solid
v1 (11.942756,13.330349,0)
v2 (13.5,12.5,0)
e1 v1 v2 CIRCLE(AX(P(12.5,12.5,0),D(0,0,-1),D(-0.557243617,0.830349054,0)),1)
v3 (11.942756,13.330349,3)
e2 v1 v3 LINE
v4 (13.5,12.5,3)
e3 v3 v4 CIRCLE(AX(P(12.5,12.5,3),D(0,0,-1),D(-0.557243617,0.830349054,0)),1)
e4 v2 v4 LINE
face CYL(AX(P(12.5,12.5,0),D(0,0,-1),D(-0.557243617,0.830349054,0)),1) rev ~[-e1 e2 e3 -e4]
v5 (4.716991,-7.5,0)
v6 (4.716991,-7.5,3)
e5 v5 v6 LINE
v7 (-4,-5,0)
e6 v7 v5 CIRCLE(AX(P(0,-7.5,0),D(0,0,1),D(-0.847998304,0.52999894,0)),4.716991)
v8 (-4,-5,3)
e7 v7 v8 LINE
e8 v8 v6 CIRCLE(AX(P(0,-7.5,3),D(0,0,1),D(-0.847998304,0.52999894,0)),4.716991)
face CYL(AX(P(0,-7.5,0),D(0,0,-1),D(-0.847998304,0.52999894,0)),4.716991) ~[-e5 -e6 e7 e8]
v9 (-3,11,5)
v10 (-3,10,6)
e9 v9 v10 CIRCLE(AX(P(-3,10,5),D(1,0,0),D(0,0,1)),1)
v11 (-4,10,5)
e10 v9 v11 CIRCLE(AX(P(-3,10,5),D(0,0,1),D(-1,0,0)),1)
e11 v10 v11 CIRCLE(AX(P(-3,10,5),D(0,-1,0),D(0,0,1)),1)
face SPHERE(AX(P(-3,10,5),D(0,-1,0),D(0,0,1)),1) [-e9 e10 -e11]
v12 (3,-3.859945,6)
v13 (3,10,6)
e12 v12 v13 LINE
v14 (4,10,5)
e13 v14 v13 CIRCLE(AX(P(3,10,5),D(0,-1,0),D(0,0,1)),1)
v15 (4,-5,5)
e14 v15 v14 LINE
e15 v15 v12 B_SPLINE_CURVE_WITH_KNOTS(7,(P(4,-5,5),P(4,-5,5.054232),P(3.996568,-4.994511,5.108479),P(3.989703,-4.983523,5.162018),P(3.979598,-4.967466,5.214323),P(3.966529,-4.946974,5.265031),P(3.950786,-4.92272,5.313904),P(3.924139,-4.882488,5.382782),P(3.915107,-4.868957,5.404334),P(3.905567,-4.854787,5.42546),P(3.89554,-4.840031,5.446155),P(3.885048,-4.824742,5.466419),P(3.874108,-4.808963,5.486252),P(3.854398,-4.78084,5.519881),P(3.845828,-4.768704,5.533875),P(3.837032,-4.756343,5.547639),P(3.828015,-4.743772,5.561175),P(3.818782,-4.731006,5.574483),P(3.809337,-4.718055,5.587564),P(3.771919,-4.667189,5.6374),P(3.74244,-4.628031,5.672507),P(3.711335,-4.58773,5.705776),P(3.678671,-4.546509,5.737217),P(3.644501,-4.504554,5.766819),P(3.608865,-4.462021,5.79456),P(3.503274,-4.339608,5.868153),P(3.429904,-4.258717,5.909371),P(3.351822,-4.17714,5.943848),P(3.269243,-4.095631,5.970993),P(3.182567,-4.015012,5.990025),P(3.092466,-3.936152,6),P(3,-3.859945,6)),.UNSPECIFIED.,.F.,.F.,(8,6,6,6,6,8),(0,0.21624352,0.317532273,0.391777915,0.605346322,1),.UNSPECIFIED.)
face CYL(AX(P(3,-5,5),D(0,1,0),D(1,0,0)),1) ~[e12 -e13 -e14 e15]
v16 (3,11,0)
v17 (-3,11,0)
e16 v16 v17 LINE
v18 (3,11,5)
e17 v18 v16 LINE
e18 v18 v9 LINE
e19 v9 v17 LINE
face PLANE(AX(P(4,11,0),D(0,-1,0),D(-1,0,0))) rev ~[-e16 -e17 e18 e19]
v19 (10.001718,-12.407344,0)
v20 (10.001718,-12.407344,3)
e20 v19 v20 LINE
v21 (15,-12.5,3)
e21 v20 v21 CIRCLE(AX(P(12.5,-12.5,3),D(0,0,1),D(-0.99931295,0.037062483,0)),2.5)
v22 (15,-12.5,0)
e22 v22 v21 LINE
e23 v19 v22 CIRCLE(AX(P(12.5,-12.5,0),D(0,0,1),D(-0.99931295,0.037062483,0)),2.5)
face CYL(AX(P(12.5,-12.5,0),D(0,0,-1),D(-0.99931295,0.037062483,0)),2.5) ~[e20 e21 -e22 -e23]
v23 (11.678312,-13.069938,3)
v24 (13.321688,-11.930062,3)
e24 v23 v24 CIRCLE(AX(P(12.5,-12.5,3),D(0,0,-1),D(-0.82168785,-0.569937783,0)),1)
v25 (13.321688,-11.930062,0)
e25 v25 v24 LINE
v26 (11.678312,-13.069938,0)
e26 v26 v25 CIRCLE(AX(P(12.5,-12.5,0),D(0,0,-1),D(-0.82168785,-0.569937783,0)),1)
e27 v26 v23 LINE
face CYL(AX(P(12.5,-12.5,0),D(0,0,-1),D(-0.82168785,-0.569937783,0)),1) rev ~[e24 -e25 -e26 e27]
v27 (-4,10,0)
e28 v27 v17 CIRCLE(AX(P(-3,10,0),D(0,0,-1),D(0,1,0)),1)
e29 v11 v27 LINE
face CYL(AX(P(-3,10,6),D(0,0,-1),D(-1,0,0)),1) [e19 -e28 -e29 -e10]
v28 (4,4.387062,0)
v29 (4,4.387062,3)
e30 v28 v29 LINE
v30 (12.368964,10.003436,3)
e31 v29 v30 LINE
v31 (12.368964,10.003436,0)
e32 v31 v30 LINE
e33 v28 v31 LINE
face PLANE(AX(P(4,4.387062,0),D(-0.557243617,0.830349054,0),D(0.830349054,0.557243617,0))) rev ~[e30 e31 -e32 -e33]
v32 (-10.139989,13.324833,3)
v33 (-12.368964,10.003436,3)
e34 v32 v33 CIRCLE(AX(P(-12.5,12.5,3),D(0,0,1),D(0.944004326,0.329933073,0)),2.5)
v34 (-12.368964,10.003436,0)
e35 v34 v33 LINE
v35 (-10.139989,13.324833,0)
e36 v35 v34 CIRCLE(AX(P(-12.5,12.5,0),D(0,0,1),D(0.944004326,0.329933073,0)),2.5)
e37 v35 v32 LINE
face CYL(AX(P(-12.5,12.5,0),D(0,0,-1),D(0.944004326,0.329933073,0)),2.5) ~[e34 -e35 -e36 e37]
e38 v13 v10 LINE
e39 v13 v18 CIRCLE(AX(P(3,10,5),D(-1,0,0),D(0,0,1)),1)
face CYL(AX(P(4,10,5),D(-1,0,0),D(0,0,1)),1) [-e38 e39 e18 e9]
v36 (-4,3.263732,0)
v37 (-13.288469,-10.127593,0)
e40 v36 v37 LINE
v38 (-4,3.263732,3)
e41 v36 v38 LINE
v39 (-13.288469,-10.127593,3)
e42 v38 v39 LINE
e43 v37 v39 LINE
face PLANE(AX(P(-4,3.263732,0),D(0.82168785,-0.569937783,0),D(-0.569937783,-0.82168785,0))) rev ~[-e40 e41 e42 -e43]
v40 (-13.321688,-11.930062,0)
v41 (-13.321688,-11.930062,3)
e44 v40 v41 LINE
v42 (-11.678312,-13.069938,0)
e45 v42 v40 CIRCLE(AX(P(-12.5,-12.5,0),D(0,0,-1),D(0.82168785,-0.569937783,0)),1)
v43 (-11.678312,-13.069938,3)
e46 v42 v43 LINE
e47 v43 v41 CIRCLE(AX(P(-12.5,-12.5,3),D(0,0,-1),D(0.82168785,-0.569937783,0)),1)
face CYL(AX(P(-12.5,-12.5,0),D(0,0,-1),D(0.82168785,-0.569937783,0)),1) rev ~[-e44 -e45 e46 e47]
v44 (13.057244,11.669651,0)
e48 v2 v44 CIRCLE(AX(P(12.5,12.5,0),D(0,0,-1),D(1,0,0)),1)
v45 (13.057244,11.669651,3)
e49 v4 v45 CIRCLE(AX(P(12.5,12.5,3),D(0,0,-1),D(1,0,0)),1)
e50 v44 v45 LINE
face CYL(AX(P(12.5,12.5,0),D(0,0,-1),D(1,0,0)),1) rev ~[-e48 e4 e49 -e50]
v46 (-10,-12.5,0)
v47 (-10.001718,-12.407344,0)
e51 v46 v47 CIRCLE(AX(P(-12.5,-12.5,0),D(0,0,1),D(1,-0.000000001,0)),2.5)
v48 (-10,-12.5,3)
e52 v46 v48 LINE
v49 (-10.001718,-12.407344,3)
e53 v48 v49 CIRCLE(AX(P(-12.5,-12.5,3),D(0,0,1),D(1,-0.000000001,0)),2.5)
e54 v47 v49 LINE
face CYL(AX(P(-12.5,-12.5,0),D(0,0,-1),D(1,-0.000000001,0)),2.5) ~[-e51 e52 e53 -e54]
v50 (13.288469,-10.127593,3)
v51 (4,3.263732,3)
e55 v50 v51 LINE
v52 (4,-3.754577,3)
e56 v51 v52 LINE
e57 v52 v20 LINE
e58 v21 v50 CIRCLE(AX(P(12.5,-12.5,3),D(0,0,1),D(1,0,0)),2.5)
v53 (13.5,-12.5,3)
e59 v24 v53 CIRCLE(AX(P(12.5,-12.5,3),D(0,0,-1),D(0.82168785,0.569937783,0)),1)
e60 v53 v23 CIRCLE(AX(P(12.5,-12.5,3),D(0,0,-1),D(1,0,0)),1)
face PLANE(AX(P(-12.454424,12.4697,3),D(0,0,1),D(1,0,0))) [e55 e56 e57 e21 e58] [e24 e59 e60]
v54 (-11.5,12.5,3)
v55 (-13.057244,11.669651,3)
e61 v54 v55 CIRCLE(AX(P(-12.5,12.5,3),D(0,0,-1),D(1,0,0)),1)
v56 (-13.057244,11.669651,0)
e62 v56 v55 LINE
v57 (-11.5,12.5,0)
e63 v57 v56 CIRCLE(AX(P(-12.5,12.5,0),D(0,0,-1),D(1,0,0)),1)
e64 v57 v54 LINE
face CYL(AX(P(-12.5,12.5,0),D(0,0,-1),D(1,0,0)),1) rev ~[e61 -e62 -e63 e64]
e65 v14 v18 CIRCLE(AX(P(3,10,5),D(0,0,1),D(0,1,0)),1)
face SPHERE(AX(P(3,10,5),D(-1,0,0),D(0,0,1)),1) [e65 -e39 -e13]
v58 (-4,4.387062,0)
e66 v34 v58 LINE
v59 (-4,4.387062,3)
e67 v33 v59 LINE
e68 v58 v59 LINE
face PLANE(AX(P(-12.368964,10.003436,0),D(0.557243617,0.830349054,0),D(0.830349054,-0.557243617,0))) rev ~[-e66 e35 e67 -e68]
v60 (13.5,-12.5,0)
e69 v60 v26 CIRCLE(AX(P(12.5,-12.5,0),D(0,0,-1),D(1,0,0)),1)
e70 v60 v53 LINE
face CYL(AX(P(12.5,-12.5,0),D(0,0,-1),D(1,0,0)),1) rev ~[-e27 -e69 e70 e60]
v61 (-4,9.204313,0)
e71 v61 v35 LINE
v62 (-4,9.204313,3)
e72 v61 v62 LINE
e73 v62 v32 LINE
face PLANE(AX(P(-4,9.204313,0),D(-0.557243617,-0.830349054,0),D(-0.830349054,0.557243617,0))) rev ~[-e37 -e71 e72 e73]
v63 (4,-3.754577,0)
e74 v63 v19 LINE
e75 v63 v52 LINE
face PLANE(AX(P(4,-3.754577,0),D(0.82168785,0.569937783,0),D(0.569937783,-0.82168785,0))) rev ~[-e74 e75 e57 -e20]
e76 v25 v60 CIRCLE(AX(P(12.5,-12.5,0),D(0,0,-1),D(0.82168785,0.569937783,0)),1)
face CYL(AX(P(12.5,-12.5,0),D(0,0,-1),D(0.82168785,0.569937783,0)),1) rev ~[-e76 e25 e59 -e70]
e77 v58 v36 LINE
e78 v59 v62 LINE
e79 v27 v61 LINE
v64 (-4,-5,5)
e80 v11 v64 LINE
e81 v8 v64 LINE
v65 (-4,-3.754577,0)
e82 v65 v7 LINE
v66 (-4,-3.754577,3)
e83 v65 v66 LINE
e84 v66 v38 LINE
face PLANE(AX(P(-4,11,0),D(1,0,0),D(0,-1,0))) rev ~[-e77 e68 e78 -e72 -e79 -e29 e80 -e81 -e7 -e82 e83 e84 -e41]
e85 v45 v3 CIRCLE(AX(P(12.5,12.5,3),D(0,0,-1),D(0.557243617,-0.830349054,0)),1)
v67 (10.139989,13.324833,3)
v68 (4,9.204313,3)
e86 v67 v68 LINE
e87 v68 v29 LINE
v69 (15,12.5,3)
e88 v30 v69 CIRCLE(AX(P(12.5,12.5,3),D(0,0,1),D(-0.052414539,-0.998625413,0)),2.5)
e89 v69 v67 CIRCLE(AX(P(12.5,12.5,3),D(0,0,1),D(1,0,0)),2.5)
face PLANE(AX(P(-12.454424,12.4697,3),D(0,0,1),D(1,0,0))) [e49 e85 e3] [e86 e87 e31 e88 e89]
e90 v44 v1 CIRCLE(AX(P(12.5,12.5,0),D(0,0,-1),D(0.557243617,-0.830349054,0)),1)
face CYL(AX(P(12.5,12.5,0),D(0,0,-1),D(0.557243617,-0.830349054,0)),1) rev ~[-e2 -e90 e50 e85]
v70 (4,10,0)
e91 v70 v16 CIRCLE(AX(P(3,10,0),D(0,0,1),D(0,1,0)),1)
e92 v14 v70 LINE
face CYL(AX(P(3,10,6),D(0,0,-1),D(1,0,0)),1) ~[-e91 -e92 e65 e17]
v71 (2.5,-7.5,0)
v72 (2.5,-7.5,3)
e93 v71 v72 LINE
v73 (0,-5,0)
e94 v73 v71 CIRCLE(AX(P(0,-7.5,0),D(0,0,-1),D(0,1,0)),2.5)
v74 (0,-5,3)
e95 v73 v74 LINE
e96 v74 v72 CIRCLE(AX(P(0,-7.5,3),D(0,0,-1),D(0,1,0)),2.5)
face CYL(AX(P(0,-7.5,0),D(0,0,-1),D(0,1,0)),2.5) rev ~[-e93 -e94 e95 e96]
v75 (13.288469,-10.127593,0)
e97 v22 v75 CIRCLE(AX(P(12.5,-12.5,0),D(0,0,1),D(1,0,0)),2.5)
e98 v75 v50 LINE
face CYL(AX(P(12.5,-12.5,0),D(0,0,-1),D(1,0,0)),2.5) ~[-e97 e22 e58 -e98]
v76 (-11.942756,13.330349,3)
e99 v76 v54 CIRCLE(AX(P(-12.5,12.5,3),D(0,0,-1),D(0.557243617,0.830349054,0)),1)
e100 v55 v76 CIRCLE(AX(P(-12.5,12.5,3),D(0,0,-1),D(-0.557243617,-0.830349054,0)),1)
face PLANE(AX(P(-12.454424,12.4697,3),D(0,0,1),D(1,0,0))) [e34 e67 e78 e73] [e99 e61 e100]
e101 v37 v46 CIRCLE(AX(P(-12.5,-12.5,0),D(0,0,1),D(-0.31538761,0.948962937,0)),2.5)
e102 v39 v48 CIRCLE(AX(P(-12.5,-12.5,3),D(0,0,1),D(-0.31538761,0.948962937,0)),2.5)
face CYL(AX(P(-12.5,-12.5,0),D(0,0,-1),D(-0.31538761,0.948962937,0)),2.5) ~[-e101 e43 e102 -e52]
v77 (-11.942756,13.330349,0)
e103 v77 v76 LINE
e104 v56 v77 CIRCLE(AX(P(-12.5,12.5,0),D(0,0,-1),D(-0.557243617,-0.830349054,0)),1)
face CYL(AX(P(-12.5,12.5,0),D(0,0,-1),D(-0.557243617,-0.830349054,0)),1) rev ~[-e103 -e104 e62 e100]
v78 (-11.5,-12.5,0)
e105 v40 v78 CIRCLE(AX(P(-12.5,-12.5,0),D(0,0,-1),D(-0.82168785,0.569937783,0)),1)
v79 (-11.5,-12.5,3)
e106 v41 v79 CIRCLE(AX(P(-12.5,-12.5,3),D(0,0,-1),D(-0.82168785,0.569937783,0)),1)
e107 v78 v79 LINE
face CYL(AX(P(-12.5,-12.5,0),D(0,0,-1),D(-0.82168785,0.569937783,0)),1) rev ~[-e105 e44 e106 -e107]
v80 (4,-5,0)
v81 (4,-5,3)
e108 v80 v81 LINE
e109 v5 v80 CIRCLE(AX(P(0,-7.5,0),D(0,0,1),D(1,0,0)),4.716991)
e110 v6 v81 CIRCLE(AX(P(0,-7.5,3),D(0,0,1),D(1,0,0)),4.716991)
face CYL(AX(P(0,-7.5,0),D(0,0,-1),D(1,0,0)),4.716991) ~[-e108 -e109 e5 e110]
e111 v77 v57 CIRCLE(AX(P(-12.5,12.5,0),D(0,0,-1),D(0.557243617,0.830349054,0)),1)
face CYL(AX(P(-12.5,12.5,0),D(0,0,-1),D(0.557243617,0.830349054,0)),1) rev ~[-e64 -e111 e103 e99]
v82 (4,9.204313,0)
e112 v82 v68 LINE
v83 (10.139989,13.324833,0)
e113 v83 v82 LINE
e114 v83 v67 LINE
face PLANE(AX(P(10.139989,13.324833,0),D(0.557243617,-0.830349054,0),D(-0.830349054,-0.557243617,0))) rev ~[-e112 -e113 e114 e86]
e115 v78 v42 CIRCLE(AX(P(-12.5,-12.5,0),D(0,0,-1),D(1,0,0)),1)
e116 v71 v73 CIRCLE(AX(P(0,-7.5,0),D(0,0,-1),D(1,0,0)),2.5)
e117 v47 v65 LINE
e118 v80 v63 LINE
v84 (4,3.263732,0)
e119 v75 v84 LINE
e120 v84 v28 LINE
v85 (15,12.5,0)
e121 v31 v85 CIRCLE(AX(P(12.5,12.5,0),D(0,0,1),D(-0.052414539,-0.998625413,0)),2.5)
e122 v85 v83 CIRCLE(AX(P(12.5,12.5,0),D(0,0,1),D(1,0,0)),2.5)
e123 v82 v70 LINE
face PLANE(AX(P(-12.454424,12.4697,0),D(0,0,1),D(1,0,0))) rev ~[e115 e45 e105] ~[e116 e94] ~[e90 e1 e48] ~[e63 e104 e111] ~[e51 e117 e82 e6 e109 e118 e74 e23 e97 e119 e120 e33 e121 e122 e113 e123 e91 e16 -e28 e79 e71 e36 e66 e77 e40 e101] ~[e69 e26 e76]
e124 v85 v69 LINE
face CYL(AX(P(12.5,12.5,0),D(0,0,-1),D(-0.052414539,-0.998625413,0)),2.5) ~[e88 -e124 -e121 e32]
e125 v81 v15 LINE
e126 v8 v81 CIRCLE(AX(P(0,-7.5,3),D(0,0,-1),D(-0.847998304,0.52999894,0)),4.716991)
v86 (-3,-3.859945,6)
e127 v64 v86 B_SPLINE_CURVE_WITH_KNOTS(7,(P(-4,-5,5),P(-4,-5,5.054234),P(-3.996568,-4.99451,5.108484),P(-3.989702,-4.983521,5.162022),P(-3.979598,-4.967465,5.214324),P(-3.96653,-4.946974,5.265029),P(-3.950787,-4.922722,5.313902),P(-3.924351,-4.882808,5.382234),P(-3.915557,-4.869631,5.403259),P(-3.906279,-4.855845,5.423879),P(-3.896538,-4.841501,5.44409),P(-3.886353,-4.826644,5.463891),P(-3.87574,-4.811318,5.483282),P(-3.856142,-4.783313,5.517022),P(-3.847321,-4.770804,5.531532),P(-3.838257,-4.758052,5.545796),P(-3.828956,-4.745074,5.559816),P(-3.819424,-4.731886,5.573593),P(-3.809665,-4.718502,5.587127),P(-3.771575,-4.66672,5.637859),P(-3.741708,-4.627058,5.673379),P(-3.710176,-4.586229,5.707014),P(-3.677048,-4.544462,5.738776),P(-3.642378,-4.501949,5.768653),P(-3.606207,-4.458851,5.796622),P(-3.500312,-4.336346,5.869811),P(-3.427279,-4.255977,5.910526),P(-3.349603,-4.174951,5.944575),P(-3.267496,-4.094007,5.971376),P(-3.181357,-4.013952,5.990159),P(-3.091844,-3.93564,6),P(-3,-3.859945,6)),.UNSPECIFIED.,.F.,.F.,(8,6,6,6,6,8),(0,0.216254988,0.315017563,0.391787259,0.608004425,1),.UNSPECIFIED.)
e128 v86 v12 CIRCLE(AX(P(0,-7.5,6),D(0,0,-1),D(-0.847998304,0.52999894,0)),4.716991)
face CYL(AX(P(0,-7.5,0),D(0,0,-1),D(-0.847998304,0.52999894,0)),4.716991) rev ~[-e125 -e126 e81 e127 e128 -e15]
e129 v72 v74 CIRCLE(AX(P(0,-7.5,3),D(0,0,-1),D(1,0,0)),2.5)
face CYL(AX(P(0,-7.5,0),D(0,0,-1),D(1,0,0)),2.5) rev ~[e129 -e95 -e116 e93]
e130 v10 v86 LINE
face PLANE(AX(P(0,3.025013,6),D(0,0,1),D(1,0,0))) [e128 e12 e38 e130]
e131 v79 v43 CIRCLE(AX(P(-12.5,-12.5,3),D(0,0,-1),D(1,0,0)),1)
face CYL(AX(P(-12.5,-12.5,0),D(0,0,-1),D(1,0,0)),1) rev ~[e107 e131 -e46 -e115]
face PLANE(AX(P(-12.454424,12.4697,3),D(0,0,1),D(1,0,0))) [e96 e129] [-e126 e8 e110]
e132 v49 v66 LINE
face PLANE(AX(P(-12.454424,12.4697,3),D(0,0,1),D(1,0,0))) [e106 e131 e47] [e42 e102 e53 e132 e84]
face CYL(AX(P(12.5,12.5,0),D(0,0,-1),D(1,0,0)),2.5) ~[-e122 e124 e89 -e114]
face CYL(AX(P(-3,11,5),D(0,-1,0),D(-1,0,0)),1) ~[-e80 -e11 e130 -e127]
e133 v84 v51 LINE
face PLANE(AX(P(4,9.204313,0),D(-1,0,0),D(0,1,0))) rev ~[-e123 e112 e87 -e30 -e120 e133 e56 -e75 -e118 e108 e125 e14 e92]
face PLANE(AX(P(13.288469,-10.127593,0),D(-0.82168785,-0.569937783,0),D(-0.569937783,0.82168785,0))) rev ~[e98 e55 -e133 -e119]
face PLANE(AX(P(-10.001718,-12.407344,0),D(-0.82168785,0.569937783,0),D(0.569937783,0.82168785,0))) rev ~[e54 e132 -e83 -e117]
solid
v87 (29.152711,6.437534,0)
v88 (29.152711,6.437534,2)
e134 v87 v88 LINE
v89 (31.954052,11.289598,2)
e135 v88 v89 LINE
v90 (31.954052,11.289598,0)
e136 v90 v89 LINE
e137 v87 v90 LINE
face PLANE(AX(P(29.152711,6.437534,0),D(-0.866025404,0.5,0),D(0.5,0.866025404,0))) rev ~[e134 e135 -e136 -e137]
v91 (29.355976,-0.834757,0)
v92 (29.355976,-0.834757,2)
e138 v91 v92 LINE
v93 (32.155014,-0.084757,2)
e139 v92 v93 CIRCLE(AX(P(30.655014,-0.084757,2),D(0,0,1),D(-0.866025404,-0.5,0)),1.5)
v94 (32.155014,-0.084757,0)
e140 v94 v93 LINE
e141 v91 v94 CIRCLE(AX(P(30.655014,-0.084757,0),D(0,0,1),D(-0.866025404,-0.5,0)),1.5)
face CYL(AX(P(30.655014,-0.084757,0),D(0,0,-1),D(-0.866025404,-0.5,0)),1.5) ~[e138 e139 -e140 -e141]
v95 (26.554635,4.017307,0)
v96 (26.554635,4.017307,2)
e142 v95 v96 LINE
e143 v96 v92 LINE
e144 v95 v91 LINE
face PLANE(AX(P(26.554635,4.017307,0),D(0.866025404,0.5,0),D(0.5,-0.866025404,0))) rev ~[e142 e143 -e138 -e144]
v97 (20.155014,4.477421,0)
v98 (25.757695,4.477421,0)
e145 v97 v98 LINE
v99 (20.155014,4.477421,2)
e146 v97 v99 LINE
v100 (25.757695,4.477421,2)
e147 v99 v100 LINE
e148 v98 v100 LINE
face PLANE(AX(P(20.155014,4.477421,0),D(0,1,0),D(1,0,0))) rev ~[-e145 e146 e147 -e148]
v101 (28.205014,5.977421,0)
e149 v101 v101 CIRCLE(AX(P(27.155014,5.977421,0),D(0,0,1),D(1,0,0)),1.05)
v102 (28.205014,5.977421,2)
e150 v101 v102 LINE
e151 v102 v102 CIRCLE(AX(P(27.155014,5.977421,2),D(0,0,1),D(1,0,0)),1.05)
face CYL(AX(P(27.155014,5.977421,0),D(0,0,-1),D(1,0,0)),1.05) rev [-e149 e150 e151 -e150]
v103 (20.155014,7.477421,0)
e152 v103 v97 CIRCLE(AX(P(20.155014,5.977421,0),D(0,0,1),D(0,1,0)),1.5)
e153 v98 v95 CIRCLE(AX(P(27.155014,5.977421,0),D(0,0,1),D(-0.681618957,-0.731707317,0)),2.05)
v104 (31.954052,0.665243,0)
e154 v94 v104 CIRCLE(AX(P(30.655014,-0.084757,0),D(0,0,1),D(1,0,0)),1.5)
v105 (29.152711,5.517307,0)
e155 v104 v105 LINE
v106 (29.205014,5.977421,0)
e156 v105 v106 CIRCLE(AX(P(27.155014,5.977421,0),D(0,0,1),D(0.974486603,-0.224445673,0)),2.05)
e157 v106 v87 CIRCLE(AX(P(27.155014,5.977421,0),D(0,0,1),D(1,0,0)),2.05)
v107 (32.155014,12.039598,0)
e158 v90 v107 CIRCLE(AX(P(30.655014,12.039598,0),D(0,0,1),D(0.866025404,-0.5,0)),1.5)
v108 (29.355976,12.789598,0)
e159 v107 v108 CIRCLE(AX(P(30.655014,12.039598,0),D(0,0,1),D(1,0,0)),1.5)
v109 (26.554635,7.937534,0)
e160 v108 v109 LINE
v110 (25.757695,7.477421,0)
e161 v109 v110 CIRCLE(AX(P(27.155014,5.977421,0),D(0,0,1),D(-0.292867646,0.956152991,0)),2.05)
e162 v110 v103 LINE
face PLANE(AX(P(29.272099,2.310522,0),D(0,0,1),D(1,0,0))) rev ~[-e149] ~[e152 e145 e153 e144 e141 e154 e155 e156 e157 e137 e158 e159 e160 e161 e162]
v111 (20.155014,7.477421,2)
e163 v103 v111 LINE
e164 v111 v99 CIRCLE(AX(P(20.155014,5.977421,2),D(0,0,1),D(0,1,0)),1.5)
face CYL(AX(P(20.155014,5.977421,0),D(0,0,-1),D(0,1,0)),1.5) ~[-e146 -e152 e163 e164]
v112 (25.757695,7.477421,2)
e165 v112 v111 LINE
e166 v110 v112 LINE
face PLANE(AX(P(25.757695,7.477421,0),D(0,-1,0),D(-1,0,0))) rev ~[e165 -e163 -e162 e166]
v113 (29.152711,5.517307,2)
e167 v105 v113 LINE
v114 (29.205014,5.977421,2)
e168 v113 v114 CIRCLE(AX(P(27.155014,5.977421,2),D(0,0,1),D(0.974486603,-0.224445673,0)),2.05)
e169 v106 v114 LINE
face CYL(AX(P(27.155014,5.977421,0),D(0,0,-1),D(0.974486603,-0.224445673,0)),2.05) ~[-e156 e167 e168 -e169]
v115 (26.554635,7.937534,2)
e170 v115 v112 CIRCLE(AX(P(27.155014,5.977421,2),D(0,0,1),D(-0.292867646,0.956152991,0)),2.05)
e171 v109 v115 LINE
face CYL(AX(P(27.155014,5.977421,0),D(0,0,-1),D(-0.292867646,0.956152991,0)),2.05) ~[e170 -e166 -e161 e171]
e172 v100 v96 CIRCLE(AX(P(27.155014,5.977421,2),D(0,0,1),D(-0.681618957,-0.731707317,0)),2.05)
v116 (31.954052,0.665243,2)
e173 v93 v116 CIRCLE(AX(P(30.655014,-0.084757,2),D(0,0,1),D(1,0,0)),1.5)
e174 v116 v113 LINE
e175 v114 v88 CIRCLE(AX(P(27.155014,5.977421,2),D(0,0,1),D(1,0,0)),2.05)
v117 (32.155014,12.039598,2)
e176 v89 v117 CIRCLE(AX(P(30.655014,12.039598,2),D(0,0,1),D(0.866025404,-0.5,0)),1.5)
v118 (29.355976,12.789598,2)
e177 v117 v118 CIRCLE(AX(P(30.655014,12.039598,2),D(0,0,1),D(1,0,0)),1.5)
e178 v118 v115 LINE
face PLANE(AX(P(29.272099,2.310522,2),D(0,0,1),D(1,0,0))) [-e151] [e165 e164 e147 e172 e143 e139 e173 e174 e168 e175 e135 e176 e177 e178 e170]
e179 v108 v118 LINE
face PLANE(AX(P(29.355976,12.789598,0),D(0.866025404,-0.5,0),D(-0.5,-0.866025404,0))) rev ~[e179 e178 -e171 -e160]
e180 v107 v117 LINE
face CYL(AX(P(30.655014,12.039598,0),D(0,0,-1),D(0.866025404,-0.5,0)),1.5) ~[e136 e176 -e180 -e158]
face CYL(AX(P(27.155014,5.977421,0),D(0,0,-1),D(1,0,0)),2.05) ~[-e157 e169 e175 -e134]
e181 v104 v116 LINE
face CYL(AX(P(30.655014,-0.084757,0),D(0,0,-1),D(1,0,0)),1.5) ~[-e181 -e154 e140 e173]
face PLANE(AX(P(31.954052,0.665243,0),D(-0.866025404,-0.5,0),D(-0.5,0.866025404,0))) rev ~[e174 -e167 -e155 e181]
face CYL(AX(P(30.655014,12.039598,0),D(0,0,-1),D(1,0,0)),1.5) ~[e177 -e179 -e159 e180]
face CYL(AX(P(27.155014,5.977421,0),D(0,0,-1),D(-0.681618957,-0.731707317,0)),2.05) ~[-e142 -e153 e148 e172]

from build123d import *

# Parameters (mm, degrees)
F1_DEPTH = 3
F2_DEPTH = 6
F0_R     = 1.05
F3_DEPTH = 2
F4_R     = 1


with BuildPart() as f1:
    # F0 (on Top) → F1 (new body)
    with BuildSketch(Plane.XY):
        with BuildLine():
            ThreePointArc((-13.0572436168, 11.669650946), (-13.330349054, 13.0572436168), (-11.9427563832, 13.330349054))
            Line((-11.9427563832, 13.330349054), (-10.0401876865, 12.0535435267))
            ThreePointArc((-10.0401876865, 12.0535435267), (-10.0100671913, 12.2758692164), (-10, 12.5))
            ThreePointArc((-10, 12.5), (-10.0352457489, 12.9183138554), (-10.1399891853, 13.3248326828))
            ThreePointArc((-10.1399891853, 13.3248326828), (-14.575872635, 13.8931090421), (-12.3689636526, 10.0034364667))
            ThreePointArc((-12.3689636526, 10.0034364667), (-11.7365731215, 10.1194161638), (-11.1546749202, 10.3928454187))
            Line((-11.1546749202, 10.3928454187), (-13.0572436168, 11.669650946))
        make_face()
        with BuildLine():
            ThreePointArc((-10, 12.5), (-10.0100671913, 12.2758692164), (-10.0401876865, 12.0535435267))
            Line((-10.0401876865, 12.0535435267), (-4, 8))
            Line((-4, 8), (-4, 9.204312807))
            Line((-4, 9.204312807), (-10.1399891853, 13.3248326828))
            ThreePointArc((-10.1399891853, 13.3248326828), (-10.0352457489, 12.9183138554), (-10, 12.5))
        make_face()
        with BuildLine():
            Line((-4, 8), (-10.0401876865, 12.0535435267))
            ThreePointArc((-10.0401876865, 12.0535435267), (-10.424127365, 11.1068909579), (-11.1546749202, 10.3928454187))
            Line((-11.1546749202, 10.3928454187), (-4, 5.5913743861))
            Line((-4, 5.5913743861), (-4, 8))
        make_face()
        with BuildLine():
            ThreePointArc((-11.9427563832, 13.330349054), (-11.6176045057, 12.9705084394), (-11.5, 12.5))
            ThreePointArc((-11.5, 12.5), (-12.0294915606, 11.6176045057), (-13.0572436168, 11.669650946))
            Line((-13.0572436168, 11.669650946), (-11.1546749202, 10.3928454187))
            ThreePointArc((-11.1546749202, 10.3928454187), (-10.424127365, 11.1068909579), (-10.0401876865, 12.0535435267))
            Line((-10.0401876865, 12.0535435267), (-11.9427563832, 13.330349054))
        make_face()
        with BuildLine():
            Line((-4, 5.5913743861), (-11.1546749202, 10.3928454187))
            ThreePointArc((-11.1546749202, 10.3928454187), (-11.7365731215, 10.1194161638), (-12.3689636526, 10.0034364667))
            Line((-12.3689636526, 10.0034364667), (-4, 4.3870615791))
            Line((-4, 4.3870615791), (-4, 5.5913743861))
        make_face()
        with BuildLine():
            Line((-4, 9.204312807), (-4, 8))
            Line((-4, 8), (-4, 5.5913743861))
            Line((-4, 5.5913743861), (-4, 4.3870615791))
            Line((-4, 4.3870615791), (-4, 3.2637324411))
            Line((-4, 3.2637324411), (-4, 1.5091549607))
            Line((-4, 1.5091549607), (-4, -2))
            Line((-4, -2), (-4, -3.7545774804))
            Line((-4, -3.7545774804), (-4, -5))
            ThreePointArc((-4, -5), (0, -2.783009434), (4, -5))
            Line((4, -5), (4, -3.7545774804))
            Line((4, -3.7545774804), (4, -2))
            Line((4, -2), (4, 1.5091549607))
            Line((4, 1.5091549607), (4, 3.2637324411))
            Line((4, 3.2637324411), (4, 4.3870615791))
            Line((4, 4.3870615791), (4, 5.5913743861))
            Line((4, 5.5913743861), (4, 8))
            Line((4, 8), (4, 9.204312807))
            Line((4, 9.204312807), (4, 11))
            Line((4, 11), (-4, 11))
            Line((-4, 11), (-4, 9.204312807))
        make_face()
        with BuildLine():
            Line((10.1399891853, 13.3248326828), (4, 9.204312807))
            Line((4, 9.204312807), (4, 8))
            Line((4, 8), (10.0401876865, 12.0535435267))
            ThreePointArc((10.0401876865, 12.0535435267), (10.007668205, 12.6956584365), (10.1399891853, 13.3248326828))
        make_face()
        with BuildLine():
            ThreePointArc((15, 12.5), (12.9183138554, 14.9647542511), (10.1399891853, 13.3248326828))
            ThreePointArc((10.1399891853, 13.3248326828), (10.007668205, 12.6956584365), (10.0401876865, 12.0535435267))
            Line((10.0401876865, 12.0535435267), (11.9427563832, 13.330349054))
            ThreePointArc((11.9427563832, 13.330349054), (12.9705084394, 13.3823954943), (13.5, 12.5))
            ThreePointArc((13.5, 12.5), (13.3823954943, 12.0294915606), (13.0572436168, 11.669650946))
            Line((13.0572436168, 11.669650946), (11.1546749202, 10.3928454187))
            ThreePointArc((11.1546749202, 10.3928454187), (11.7365731215, 10.1194161638), (12.3689636526, 10.0034364667))
            ThreePointArc((12.3689636526, 10.0034364667), (14.2208150876, 10.686496365), (15, 12.5))
        make_face()
        with BuildLine():
            Line((11.9427563832, 13.330349054), (10.0401876865, 12.0535435267))
            ThreePointArc((10.0401876865, 12.0535435267), (10.424127365, 11.1068909579), (11.1546749202, 10.3928454187))
            Line((11.1546749202, 10.3928454187), (13.0572436168, 11.669650946))
            ThreePointArc((13.0572436168, 11.669650946), (11.669650946, 11.9427563832), (11.9427563832, 13.330349054))
        make_face()
        with BuildLine():
            Line((10.0401876865, 12.0535435267), (4, 8))
            Line((4, 8), (4, 5.5913743861))
            Line((4, 5.5913743861), (11.1546749202, 10.3928454187))
            ThreePointArc((11.1546749202, 10.3928454187), (10.424127365, 11.1068909579), (10.0401876865, 12.0535435267))
        make_face()
        with BuildLine():
            Line((11.1546749202, 10.3928454187), (4, 5.5913743861))
            Line((4, 5.5913743861), (4, 4.3870615791))
            Line((4, 4.3870615791), (12.3689636526, 10.0034364667))
            ThreePointArc((12.3689636526, 10.0034364667), (11.7365731215, 10.1194161638), (11.1546749202, 10.3928454187))
        make_face()
        with BuildLine():
            Line((13.2884690251, -10.127592658), (4, 3.2637324411))
            Line((4, 3.2637324411), (4, 1.5091549607))
            Line((4, 1.5091549607), (12.0157963331, -10.0473388312))
            ThreePointArc((12.0157963331, -10.0473388312), (12.657335696, -10.0049558163), (13.2884690251, -10.127592658))
        make_face()
        with BuildLine():
            Line((12.0157963331, -10.0473388312), (4, 1.5091549607))
            Line((4, 1.5091549607), (4, -2))
            Line((4, -2), (10.3724206329, -11.187214398))
            ThreePointArc((10.3724206329, -11.187214398), (11.0751555414, -10.4457803747), (12.0157963331, -10.0473388312))
        make_face()
        with BuildLine():
            Line((4, -2), (4, -3.7545774804))
            Line((4, -3.7545774804), (10.0017176246, -12.4073437917))
            ThreePointArc((10.0017176246, -12.4073437917), (10.1079656881, -11.7732456738), (10.3724206329, -11.187214398))
            Line((10.3724206329, -11.187214398), (4, -2))
        make_face()
        with BuildLine():
            Line((-4, 1.5091549607), (-4, 3.2637324411))
            Line((-4, 3.2637324411), (-13.2884690251, -10.127592658))
            ThreePointArc((-13.2884690251, -10.127592658), (-12.657335696, -10.0049558163), (-12.0157963331, -10.0473388312))
            Line((-12.0157963331, -10.0473388312), (-4, 1.5091549607))
        make_face()
        with BuildLine():
            Line((-4, -2), (-4, 1.5091549607))
            Line((-4, 1.5091549607), (-12.0157963331, -10.0473388312))
            ThreePointArc((-12.0157963331, -10.0473388312), (-11.0751555414, -10.4457803747), (-10.3724206329, -11.187214398))
            Line((-10.3724206329, -11.187214398), (-4, -2))
        make_face()
        with BuildLine():
            Line((-4, -3.7545774804), (-4, -2))
            Line((-4, -2), (-10.3724206329, -11.187214398))
            ThreePointArc((-10.3724206329, -11.187214398), (-10.1079656881, -11.7732456738), (-10.0017176246, -12.4073437917))
            Line((-10.0017176246, -12.4073437917), (-4, -3.7545774804))
        make_face()
        with BuildLine():
            ThreePointArc((-12.0157963331, -10.0473388312), (-12.657335696, -10.0049558163), (-13.2884690251, -10.127592658))
            ThreePointArc((-13.2884690251, -10.127592658), (-13.9626734833, -14.5274580837), (-10, -12.5))
            ThreePointArc((-10, -12.5), (-10.000429443, -12.4536639364), (-10.0017176246, -12.4073437917))
            ThreePointArc((-10.0017176246, -12.4073437917), (-10.1079656881, -11.7732456738), (-10.3724206329, -11.187214398))
            Line((-10.3724206329, -11.187214398), (-11.6783121499, -13.0699377834))
            ThreePointArc((-11.6783121499, -13.0699377834), (-13.0699377834, -13.3216878501), (-13.3216878501, -11.9300622166))
            Line((-13.3216878501, -11.9300622166), (-12.0157963331, -10.0473388312))
        make_face()
        with BuildLine():
            ThreePointArc((-10.3724206329, -11.187214398), (-11.0751555414, -10.4457803747), (-12.0157963331, -10.0473388312))
            Line((-12.0157963331, -10.0473388312), (-13.3216878501, -11.9300622166))
            ThreePointArc((-13.3216878501, -11.9300622166), (-12.2014098546, -11.5456185642), (-11.5, -12.5))
            ThreePointArc((-11.5, -12.5), (-11.5456185642, -12.7985901454), (-11.6783121499, -13.0699377834))
            Line((-11.6783121499, -13.0699377834), (-10.3724206329, -11.187214398))
        make_face()
        with BuildLine():
            ThreePointArc((15, -12.5), (14.5274580837, -11.0373265167), (13.2884690251, -10.127592658))
            ThreePointArc((13.2884690251, -10.127592658), (12.657335696, -10.0049558163), (12.0157963331, -10.0473388312))
            Line((12.0157963331, -10.0473388312), (13.3216878501, -11.9300622166))
            ThreePointArc((13.3216878501, -11.9300622166), (13.4543814358, -12.2014098546), (13.5, -12.5))
            ThreePointArc((13.5, -12.5), (12.7985901454, -13.4543814358), (11.6783121499, -13.0699377834))
            Line((11.6783121499, -13.0699377834), (10.3724206329, -11.187214398))
            ThreePointArc((10.3724206329, -11.187214398), (10.1079656881, -11.7732456738), (10.0017176246, -12.4073437917))
            ThreePointArc((10.0017176246, -12.4073437917), (12.4536639364, -14.999570557), (15, -12.5))
        make_face()
        with BuildLine():
            Line((13.3216878501, -11.9300622166), (12.0157963331, -10.0473388312))
            ThreePointArc((12.0157963331, -10.0473388312), (11.0751555414, -10.4457803747), (10.3724206329, -11.187214398))
            Line((10.3724206329, -11.187214398), (11.6783121499, -13.0699377834))
            ThreePointArc((11.6783121499, -13.0699377834), (11.9300622166, -11.6783121499), (13.3216878501, -11.9300622166))
        make_face()
        with BuildLine():
            ThreePointArc((4, -5), (0, -2.783009434), (-4, -5))
            Line((-4, -5), (0, -5))
            Line((0, -5), (4, -5))
        make_face()
        with BuildLine():
            Line((0, -5), (-4, -5))
            ThreePointArc((-4, -5), (-1.3003918132, -12.0342012673), (4.716990566, -7.5))
            ThreePointArc((4.716990566, -7.5), (4.5342012673, -6.1996081868), (4, -5))
            Line((4, -5), (0, -5))
        make_face()
        with BuildLine():
            ThreePointArc((2.5, -7.5), (-1.767766953, -9.267766953), (0, -5))
            ThreePointArc((0, -5), (1.767766953, -5.732233047), (2.5, -7.5))
        make_face(mode=Mode.SUBTRACT)
    extrude(amount=F1_DEPTH)

    # F0 (on Top) → F2 (join)
    with BuildSketch(Plane.XY):
        with BuildLine():
            Line((-4, 9.204312807), (-4, 8))
            Line((-4, 8), (-4, 5.5913743861))
            Line((-4, 5.5913743861), (-4, 4.3870615791))
            Line((-4, 4.3870615791), (-4, 3.2637324411))
            Line((-4, 3.2637324411), (-4, 1.5091549607))
            Line((-4, 1.5091549607), (-4, -2))
            Line((-4, -2), (-4, -3.7545774804))
            Line((-4, -3.7545774804), (-4, -5))
            ThreePointArc((-4, -5), (0, -2.783009434), (4, -5))
            Line((4, -5), (4, -3.7545774804))
            Line((4, -3.7545774804), (4, -2))
            Line((4, -2), (4, 1.5091549607))
            Line((4, 1.5091549607), (4, 3.2637324411))
            Line((4, 3.2637324411), (4, 4.3870615791))
            Line((4, 4.3870615791), (4, 5.5913743861))
            Line((4, 5.5913743861), (4, 8))
            Line((4, 8), (4, 9.204312807))
            Line((4, 9.204312807), (4, 11))
            Line((4, 11), (-4, 11))
            Line((-4, 11), (-4, 9.204312807))
        make_face()
    extrude(amount=F2_DEPTH)

    # F4
    f4_edges = [f1.edges().sort_by_distance(p)[0] for p in [
        (-4, 3, 6),
        (0, 11, 6),
        (4, 3, 6),
        (4, 11, 3),
        (-4, 11, 3),
    ]]
    fillet(f4_edges, radius=F4_R)


with BuildPart() as f3:
    # F0 (on Top) → F3 (new body)
    with BuildSketch(Plane.XY):
        with BuildLine():
            Line((31.9540518606, 0.6652427755), (29.1527112913, 5.517306971))
            ThreePointArc((29.1527112913, 5.517306971), (28.180013755, 4.2020685242), (26.5546350799, 4.017306971))
            Line((26.5546350799, 4.017306971), (29.3559756493, -0.8347572245))
            ThreePointArc((29.3559756493, -0.8347572245), (29.905013755, 1.2142808812), (31.9540518606, 0.6652427755))
        make_face()
        with BuildLine():
            ThreePointArc((21.655013755, 5.977420602), (21.2156739267, 7.0380807738), (20.155013755, 7.477420602))
            ThreePointArc((20.155013755, 7.477420602), (18.655013755, 5.977420602), (20.155013755, 4.477420602))
            ThreePointArc((20.155013755, 4.477420602), (21.2156739267, 4.9167604302), (21.655013755, 5.977420602))
        make_face()
        with BuildLine():
            ThreePointArc((32.155013755, -0.0847572245), (32.1039024944, 0.3034713432), (31.9540518606, 0.6652427755))
            ThreePointArc((31.9540518606, 0.6652427755), (29.905013755, 1.2142808812), (29.3559756493, -0.8347572245))
            ThreePointArc((29.3559756493, -0.8347572245), (31.0432423226, -1.5336459639), (32.155013755, -0.0847572245))
        make_face()
        with BuildLine():
            ThreePointArc((29.3559756493, 12.7895984285), (29.905013755, 10.7405603228), (31.9540518606, 11.2895984285))
            ThreePointArc((31.9540518606, 11.2895984285), (32.1039024944, 11.6513698608), (32.155013755, 12.0395984285))
            ThreePointArc((32.155013755, 12.0395984285), (31.0432423226, 13.4884871679), (29.3559756493, 12.7895984285))
        make_face()
        with BuildLine():
            ThreePointArc((26.5546350799, 7.937534233), (28.180013755, 7.7527726798), (29.1527112913, 6.437534233))
            Line((29.1527112913, 6.437534233), (31.9540518606, 11.2895984285))
            ThreePointArc((31.9540518606, 11.2895984285), (29.905013755, 10.7405603228), (29.3559756493, 12.7895984285))
            Line((29.3559756493, 12.7895984285), (26.5546350799, 7.937534233))
        make_face()
        with BuildLine():
            ThreePointArc((25.7576948937, 4.477420602), (25.105013755, 5.977420602), (25.7576948937, 7.477420602))
            Line((25.7576948937, 7.477420602), (20.155013755, 7.477420602))
            ThreePointArc((20.155013755, 7.477420602), (21.2156739267, 7.0380807738), (21.655013755, 5.977420602))
            ThreePointArc((21.655013755, 5.977420602), (21.2156739267, 4.9167604302), (20.155013755, 4.477420602))
            Line((20.155013755, 4.477420602), (25.7576948937, 4.477420602))
        make_face()
        with BuildLine():
            ThreePointArc((29.1527112913, 5.517306971), (29.1918961705, 5.7458822136), (29.205013755, 5.977420602))
            ThreePointArc((29.205013755, 5.977420602), (29.1918961705, 6.2089589904), (29.1527112913, 6.437534233))
            ThreePointArc((29.1527112913, 6.437534233), (28.180013755, 7.7527726798), (26.5546350799, 7.937534233))
            ThreePointArc((26.5546350799, 7.937534233), (26.130013755, 7.7527726798), (25.7576948937, 7.477420602))
            ThreePointArc((25.7576948937, 7.477420602), (25.105013755, 5.977420602), (25.7576948937, 4.477420602))
            ThreePointArc((25.7576948937, 4.477420602), (26.130013755, 4.2020685242), (26.5546350799, 4.017306971))
            ThreePointArc((26.5546350799, 4.017306971), (28.180013755, 4.2020685242), (29.1527112913, 5.517306971))
        make_face()
        with Locations((27.155013755, 5.977420602)):
            Circle(F0_R, mode=Mode.SUBTRACT)
    extrude(amount=F3_DEPTH)


solid = Compound([f1.part, f3.part])
